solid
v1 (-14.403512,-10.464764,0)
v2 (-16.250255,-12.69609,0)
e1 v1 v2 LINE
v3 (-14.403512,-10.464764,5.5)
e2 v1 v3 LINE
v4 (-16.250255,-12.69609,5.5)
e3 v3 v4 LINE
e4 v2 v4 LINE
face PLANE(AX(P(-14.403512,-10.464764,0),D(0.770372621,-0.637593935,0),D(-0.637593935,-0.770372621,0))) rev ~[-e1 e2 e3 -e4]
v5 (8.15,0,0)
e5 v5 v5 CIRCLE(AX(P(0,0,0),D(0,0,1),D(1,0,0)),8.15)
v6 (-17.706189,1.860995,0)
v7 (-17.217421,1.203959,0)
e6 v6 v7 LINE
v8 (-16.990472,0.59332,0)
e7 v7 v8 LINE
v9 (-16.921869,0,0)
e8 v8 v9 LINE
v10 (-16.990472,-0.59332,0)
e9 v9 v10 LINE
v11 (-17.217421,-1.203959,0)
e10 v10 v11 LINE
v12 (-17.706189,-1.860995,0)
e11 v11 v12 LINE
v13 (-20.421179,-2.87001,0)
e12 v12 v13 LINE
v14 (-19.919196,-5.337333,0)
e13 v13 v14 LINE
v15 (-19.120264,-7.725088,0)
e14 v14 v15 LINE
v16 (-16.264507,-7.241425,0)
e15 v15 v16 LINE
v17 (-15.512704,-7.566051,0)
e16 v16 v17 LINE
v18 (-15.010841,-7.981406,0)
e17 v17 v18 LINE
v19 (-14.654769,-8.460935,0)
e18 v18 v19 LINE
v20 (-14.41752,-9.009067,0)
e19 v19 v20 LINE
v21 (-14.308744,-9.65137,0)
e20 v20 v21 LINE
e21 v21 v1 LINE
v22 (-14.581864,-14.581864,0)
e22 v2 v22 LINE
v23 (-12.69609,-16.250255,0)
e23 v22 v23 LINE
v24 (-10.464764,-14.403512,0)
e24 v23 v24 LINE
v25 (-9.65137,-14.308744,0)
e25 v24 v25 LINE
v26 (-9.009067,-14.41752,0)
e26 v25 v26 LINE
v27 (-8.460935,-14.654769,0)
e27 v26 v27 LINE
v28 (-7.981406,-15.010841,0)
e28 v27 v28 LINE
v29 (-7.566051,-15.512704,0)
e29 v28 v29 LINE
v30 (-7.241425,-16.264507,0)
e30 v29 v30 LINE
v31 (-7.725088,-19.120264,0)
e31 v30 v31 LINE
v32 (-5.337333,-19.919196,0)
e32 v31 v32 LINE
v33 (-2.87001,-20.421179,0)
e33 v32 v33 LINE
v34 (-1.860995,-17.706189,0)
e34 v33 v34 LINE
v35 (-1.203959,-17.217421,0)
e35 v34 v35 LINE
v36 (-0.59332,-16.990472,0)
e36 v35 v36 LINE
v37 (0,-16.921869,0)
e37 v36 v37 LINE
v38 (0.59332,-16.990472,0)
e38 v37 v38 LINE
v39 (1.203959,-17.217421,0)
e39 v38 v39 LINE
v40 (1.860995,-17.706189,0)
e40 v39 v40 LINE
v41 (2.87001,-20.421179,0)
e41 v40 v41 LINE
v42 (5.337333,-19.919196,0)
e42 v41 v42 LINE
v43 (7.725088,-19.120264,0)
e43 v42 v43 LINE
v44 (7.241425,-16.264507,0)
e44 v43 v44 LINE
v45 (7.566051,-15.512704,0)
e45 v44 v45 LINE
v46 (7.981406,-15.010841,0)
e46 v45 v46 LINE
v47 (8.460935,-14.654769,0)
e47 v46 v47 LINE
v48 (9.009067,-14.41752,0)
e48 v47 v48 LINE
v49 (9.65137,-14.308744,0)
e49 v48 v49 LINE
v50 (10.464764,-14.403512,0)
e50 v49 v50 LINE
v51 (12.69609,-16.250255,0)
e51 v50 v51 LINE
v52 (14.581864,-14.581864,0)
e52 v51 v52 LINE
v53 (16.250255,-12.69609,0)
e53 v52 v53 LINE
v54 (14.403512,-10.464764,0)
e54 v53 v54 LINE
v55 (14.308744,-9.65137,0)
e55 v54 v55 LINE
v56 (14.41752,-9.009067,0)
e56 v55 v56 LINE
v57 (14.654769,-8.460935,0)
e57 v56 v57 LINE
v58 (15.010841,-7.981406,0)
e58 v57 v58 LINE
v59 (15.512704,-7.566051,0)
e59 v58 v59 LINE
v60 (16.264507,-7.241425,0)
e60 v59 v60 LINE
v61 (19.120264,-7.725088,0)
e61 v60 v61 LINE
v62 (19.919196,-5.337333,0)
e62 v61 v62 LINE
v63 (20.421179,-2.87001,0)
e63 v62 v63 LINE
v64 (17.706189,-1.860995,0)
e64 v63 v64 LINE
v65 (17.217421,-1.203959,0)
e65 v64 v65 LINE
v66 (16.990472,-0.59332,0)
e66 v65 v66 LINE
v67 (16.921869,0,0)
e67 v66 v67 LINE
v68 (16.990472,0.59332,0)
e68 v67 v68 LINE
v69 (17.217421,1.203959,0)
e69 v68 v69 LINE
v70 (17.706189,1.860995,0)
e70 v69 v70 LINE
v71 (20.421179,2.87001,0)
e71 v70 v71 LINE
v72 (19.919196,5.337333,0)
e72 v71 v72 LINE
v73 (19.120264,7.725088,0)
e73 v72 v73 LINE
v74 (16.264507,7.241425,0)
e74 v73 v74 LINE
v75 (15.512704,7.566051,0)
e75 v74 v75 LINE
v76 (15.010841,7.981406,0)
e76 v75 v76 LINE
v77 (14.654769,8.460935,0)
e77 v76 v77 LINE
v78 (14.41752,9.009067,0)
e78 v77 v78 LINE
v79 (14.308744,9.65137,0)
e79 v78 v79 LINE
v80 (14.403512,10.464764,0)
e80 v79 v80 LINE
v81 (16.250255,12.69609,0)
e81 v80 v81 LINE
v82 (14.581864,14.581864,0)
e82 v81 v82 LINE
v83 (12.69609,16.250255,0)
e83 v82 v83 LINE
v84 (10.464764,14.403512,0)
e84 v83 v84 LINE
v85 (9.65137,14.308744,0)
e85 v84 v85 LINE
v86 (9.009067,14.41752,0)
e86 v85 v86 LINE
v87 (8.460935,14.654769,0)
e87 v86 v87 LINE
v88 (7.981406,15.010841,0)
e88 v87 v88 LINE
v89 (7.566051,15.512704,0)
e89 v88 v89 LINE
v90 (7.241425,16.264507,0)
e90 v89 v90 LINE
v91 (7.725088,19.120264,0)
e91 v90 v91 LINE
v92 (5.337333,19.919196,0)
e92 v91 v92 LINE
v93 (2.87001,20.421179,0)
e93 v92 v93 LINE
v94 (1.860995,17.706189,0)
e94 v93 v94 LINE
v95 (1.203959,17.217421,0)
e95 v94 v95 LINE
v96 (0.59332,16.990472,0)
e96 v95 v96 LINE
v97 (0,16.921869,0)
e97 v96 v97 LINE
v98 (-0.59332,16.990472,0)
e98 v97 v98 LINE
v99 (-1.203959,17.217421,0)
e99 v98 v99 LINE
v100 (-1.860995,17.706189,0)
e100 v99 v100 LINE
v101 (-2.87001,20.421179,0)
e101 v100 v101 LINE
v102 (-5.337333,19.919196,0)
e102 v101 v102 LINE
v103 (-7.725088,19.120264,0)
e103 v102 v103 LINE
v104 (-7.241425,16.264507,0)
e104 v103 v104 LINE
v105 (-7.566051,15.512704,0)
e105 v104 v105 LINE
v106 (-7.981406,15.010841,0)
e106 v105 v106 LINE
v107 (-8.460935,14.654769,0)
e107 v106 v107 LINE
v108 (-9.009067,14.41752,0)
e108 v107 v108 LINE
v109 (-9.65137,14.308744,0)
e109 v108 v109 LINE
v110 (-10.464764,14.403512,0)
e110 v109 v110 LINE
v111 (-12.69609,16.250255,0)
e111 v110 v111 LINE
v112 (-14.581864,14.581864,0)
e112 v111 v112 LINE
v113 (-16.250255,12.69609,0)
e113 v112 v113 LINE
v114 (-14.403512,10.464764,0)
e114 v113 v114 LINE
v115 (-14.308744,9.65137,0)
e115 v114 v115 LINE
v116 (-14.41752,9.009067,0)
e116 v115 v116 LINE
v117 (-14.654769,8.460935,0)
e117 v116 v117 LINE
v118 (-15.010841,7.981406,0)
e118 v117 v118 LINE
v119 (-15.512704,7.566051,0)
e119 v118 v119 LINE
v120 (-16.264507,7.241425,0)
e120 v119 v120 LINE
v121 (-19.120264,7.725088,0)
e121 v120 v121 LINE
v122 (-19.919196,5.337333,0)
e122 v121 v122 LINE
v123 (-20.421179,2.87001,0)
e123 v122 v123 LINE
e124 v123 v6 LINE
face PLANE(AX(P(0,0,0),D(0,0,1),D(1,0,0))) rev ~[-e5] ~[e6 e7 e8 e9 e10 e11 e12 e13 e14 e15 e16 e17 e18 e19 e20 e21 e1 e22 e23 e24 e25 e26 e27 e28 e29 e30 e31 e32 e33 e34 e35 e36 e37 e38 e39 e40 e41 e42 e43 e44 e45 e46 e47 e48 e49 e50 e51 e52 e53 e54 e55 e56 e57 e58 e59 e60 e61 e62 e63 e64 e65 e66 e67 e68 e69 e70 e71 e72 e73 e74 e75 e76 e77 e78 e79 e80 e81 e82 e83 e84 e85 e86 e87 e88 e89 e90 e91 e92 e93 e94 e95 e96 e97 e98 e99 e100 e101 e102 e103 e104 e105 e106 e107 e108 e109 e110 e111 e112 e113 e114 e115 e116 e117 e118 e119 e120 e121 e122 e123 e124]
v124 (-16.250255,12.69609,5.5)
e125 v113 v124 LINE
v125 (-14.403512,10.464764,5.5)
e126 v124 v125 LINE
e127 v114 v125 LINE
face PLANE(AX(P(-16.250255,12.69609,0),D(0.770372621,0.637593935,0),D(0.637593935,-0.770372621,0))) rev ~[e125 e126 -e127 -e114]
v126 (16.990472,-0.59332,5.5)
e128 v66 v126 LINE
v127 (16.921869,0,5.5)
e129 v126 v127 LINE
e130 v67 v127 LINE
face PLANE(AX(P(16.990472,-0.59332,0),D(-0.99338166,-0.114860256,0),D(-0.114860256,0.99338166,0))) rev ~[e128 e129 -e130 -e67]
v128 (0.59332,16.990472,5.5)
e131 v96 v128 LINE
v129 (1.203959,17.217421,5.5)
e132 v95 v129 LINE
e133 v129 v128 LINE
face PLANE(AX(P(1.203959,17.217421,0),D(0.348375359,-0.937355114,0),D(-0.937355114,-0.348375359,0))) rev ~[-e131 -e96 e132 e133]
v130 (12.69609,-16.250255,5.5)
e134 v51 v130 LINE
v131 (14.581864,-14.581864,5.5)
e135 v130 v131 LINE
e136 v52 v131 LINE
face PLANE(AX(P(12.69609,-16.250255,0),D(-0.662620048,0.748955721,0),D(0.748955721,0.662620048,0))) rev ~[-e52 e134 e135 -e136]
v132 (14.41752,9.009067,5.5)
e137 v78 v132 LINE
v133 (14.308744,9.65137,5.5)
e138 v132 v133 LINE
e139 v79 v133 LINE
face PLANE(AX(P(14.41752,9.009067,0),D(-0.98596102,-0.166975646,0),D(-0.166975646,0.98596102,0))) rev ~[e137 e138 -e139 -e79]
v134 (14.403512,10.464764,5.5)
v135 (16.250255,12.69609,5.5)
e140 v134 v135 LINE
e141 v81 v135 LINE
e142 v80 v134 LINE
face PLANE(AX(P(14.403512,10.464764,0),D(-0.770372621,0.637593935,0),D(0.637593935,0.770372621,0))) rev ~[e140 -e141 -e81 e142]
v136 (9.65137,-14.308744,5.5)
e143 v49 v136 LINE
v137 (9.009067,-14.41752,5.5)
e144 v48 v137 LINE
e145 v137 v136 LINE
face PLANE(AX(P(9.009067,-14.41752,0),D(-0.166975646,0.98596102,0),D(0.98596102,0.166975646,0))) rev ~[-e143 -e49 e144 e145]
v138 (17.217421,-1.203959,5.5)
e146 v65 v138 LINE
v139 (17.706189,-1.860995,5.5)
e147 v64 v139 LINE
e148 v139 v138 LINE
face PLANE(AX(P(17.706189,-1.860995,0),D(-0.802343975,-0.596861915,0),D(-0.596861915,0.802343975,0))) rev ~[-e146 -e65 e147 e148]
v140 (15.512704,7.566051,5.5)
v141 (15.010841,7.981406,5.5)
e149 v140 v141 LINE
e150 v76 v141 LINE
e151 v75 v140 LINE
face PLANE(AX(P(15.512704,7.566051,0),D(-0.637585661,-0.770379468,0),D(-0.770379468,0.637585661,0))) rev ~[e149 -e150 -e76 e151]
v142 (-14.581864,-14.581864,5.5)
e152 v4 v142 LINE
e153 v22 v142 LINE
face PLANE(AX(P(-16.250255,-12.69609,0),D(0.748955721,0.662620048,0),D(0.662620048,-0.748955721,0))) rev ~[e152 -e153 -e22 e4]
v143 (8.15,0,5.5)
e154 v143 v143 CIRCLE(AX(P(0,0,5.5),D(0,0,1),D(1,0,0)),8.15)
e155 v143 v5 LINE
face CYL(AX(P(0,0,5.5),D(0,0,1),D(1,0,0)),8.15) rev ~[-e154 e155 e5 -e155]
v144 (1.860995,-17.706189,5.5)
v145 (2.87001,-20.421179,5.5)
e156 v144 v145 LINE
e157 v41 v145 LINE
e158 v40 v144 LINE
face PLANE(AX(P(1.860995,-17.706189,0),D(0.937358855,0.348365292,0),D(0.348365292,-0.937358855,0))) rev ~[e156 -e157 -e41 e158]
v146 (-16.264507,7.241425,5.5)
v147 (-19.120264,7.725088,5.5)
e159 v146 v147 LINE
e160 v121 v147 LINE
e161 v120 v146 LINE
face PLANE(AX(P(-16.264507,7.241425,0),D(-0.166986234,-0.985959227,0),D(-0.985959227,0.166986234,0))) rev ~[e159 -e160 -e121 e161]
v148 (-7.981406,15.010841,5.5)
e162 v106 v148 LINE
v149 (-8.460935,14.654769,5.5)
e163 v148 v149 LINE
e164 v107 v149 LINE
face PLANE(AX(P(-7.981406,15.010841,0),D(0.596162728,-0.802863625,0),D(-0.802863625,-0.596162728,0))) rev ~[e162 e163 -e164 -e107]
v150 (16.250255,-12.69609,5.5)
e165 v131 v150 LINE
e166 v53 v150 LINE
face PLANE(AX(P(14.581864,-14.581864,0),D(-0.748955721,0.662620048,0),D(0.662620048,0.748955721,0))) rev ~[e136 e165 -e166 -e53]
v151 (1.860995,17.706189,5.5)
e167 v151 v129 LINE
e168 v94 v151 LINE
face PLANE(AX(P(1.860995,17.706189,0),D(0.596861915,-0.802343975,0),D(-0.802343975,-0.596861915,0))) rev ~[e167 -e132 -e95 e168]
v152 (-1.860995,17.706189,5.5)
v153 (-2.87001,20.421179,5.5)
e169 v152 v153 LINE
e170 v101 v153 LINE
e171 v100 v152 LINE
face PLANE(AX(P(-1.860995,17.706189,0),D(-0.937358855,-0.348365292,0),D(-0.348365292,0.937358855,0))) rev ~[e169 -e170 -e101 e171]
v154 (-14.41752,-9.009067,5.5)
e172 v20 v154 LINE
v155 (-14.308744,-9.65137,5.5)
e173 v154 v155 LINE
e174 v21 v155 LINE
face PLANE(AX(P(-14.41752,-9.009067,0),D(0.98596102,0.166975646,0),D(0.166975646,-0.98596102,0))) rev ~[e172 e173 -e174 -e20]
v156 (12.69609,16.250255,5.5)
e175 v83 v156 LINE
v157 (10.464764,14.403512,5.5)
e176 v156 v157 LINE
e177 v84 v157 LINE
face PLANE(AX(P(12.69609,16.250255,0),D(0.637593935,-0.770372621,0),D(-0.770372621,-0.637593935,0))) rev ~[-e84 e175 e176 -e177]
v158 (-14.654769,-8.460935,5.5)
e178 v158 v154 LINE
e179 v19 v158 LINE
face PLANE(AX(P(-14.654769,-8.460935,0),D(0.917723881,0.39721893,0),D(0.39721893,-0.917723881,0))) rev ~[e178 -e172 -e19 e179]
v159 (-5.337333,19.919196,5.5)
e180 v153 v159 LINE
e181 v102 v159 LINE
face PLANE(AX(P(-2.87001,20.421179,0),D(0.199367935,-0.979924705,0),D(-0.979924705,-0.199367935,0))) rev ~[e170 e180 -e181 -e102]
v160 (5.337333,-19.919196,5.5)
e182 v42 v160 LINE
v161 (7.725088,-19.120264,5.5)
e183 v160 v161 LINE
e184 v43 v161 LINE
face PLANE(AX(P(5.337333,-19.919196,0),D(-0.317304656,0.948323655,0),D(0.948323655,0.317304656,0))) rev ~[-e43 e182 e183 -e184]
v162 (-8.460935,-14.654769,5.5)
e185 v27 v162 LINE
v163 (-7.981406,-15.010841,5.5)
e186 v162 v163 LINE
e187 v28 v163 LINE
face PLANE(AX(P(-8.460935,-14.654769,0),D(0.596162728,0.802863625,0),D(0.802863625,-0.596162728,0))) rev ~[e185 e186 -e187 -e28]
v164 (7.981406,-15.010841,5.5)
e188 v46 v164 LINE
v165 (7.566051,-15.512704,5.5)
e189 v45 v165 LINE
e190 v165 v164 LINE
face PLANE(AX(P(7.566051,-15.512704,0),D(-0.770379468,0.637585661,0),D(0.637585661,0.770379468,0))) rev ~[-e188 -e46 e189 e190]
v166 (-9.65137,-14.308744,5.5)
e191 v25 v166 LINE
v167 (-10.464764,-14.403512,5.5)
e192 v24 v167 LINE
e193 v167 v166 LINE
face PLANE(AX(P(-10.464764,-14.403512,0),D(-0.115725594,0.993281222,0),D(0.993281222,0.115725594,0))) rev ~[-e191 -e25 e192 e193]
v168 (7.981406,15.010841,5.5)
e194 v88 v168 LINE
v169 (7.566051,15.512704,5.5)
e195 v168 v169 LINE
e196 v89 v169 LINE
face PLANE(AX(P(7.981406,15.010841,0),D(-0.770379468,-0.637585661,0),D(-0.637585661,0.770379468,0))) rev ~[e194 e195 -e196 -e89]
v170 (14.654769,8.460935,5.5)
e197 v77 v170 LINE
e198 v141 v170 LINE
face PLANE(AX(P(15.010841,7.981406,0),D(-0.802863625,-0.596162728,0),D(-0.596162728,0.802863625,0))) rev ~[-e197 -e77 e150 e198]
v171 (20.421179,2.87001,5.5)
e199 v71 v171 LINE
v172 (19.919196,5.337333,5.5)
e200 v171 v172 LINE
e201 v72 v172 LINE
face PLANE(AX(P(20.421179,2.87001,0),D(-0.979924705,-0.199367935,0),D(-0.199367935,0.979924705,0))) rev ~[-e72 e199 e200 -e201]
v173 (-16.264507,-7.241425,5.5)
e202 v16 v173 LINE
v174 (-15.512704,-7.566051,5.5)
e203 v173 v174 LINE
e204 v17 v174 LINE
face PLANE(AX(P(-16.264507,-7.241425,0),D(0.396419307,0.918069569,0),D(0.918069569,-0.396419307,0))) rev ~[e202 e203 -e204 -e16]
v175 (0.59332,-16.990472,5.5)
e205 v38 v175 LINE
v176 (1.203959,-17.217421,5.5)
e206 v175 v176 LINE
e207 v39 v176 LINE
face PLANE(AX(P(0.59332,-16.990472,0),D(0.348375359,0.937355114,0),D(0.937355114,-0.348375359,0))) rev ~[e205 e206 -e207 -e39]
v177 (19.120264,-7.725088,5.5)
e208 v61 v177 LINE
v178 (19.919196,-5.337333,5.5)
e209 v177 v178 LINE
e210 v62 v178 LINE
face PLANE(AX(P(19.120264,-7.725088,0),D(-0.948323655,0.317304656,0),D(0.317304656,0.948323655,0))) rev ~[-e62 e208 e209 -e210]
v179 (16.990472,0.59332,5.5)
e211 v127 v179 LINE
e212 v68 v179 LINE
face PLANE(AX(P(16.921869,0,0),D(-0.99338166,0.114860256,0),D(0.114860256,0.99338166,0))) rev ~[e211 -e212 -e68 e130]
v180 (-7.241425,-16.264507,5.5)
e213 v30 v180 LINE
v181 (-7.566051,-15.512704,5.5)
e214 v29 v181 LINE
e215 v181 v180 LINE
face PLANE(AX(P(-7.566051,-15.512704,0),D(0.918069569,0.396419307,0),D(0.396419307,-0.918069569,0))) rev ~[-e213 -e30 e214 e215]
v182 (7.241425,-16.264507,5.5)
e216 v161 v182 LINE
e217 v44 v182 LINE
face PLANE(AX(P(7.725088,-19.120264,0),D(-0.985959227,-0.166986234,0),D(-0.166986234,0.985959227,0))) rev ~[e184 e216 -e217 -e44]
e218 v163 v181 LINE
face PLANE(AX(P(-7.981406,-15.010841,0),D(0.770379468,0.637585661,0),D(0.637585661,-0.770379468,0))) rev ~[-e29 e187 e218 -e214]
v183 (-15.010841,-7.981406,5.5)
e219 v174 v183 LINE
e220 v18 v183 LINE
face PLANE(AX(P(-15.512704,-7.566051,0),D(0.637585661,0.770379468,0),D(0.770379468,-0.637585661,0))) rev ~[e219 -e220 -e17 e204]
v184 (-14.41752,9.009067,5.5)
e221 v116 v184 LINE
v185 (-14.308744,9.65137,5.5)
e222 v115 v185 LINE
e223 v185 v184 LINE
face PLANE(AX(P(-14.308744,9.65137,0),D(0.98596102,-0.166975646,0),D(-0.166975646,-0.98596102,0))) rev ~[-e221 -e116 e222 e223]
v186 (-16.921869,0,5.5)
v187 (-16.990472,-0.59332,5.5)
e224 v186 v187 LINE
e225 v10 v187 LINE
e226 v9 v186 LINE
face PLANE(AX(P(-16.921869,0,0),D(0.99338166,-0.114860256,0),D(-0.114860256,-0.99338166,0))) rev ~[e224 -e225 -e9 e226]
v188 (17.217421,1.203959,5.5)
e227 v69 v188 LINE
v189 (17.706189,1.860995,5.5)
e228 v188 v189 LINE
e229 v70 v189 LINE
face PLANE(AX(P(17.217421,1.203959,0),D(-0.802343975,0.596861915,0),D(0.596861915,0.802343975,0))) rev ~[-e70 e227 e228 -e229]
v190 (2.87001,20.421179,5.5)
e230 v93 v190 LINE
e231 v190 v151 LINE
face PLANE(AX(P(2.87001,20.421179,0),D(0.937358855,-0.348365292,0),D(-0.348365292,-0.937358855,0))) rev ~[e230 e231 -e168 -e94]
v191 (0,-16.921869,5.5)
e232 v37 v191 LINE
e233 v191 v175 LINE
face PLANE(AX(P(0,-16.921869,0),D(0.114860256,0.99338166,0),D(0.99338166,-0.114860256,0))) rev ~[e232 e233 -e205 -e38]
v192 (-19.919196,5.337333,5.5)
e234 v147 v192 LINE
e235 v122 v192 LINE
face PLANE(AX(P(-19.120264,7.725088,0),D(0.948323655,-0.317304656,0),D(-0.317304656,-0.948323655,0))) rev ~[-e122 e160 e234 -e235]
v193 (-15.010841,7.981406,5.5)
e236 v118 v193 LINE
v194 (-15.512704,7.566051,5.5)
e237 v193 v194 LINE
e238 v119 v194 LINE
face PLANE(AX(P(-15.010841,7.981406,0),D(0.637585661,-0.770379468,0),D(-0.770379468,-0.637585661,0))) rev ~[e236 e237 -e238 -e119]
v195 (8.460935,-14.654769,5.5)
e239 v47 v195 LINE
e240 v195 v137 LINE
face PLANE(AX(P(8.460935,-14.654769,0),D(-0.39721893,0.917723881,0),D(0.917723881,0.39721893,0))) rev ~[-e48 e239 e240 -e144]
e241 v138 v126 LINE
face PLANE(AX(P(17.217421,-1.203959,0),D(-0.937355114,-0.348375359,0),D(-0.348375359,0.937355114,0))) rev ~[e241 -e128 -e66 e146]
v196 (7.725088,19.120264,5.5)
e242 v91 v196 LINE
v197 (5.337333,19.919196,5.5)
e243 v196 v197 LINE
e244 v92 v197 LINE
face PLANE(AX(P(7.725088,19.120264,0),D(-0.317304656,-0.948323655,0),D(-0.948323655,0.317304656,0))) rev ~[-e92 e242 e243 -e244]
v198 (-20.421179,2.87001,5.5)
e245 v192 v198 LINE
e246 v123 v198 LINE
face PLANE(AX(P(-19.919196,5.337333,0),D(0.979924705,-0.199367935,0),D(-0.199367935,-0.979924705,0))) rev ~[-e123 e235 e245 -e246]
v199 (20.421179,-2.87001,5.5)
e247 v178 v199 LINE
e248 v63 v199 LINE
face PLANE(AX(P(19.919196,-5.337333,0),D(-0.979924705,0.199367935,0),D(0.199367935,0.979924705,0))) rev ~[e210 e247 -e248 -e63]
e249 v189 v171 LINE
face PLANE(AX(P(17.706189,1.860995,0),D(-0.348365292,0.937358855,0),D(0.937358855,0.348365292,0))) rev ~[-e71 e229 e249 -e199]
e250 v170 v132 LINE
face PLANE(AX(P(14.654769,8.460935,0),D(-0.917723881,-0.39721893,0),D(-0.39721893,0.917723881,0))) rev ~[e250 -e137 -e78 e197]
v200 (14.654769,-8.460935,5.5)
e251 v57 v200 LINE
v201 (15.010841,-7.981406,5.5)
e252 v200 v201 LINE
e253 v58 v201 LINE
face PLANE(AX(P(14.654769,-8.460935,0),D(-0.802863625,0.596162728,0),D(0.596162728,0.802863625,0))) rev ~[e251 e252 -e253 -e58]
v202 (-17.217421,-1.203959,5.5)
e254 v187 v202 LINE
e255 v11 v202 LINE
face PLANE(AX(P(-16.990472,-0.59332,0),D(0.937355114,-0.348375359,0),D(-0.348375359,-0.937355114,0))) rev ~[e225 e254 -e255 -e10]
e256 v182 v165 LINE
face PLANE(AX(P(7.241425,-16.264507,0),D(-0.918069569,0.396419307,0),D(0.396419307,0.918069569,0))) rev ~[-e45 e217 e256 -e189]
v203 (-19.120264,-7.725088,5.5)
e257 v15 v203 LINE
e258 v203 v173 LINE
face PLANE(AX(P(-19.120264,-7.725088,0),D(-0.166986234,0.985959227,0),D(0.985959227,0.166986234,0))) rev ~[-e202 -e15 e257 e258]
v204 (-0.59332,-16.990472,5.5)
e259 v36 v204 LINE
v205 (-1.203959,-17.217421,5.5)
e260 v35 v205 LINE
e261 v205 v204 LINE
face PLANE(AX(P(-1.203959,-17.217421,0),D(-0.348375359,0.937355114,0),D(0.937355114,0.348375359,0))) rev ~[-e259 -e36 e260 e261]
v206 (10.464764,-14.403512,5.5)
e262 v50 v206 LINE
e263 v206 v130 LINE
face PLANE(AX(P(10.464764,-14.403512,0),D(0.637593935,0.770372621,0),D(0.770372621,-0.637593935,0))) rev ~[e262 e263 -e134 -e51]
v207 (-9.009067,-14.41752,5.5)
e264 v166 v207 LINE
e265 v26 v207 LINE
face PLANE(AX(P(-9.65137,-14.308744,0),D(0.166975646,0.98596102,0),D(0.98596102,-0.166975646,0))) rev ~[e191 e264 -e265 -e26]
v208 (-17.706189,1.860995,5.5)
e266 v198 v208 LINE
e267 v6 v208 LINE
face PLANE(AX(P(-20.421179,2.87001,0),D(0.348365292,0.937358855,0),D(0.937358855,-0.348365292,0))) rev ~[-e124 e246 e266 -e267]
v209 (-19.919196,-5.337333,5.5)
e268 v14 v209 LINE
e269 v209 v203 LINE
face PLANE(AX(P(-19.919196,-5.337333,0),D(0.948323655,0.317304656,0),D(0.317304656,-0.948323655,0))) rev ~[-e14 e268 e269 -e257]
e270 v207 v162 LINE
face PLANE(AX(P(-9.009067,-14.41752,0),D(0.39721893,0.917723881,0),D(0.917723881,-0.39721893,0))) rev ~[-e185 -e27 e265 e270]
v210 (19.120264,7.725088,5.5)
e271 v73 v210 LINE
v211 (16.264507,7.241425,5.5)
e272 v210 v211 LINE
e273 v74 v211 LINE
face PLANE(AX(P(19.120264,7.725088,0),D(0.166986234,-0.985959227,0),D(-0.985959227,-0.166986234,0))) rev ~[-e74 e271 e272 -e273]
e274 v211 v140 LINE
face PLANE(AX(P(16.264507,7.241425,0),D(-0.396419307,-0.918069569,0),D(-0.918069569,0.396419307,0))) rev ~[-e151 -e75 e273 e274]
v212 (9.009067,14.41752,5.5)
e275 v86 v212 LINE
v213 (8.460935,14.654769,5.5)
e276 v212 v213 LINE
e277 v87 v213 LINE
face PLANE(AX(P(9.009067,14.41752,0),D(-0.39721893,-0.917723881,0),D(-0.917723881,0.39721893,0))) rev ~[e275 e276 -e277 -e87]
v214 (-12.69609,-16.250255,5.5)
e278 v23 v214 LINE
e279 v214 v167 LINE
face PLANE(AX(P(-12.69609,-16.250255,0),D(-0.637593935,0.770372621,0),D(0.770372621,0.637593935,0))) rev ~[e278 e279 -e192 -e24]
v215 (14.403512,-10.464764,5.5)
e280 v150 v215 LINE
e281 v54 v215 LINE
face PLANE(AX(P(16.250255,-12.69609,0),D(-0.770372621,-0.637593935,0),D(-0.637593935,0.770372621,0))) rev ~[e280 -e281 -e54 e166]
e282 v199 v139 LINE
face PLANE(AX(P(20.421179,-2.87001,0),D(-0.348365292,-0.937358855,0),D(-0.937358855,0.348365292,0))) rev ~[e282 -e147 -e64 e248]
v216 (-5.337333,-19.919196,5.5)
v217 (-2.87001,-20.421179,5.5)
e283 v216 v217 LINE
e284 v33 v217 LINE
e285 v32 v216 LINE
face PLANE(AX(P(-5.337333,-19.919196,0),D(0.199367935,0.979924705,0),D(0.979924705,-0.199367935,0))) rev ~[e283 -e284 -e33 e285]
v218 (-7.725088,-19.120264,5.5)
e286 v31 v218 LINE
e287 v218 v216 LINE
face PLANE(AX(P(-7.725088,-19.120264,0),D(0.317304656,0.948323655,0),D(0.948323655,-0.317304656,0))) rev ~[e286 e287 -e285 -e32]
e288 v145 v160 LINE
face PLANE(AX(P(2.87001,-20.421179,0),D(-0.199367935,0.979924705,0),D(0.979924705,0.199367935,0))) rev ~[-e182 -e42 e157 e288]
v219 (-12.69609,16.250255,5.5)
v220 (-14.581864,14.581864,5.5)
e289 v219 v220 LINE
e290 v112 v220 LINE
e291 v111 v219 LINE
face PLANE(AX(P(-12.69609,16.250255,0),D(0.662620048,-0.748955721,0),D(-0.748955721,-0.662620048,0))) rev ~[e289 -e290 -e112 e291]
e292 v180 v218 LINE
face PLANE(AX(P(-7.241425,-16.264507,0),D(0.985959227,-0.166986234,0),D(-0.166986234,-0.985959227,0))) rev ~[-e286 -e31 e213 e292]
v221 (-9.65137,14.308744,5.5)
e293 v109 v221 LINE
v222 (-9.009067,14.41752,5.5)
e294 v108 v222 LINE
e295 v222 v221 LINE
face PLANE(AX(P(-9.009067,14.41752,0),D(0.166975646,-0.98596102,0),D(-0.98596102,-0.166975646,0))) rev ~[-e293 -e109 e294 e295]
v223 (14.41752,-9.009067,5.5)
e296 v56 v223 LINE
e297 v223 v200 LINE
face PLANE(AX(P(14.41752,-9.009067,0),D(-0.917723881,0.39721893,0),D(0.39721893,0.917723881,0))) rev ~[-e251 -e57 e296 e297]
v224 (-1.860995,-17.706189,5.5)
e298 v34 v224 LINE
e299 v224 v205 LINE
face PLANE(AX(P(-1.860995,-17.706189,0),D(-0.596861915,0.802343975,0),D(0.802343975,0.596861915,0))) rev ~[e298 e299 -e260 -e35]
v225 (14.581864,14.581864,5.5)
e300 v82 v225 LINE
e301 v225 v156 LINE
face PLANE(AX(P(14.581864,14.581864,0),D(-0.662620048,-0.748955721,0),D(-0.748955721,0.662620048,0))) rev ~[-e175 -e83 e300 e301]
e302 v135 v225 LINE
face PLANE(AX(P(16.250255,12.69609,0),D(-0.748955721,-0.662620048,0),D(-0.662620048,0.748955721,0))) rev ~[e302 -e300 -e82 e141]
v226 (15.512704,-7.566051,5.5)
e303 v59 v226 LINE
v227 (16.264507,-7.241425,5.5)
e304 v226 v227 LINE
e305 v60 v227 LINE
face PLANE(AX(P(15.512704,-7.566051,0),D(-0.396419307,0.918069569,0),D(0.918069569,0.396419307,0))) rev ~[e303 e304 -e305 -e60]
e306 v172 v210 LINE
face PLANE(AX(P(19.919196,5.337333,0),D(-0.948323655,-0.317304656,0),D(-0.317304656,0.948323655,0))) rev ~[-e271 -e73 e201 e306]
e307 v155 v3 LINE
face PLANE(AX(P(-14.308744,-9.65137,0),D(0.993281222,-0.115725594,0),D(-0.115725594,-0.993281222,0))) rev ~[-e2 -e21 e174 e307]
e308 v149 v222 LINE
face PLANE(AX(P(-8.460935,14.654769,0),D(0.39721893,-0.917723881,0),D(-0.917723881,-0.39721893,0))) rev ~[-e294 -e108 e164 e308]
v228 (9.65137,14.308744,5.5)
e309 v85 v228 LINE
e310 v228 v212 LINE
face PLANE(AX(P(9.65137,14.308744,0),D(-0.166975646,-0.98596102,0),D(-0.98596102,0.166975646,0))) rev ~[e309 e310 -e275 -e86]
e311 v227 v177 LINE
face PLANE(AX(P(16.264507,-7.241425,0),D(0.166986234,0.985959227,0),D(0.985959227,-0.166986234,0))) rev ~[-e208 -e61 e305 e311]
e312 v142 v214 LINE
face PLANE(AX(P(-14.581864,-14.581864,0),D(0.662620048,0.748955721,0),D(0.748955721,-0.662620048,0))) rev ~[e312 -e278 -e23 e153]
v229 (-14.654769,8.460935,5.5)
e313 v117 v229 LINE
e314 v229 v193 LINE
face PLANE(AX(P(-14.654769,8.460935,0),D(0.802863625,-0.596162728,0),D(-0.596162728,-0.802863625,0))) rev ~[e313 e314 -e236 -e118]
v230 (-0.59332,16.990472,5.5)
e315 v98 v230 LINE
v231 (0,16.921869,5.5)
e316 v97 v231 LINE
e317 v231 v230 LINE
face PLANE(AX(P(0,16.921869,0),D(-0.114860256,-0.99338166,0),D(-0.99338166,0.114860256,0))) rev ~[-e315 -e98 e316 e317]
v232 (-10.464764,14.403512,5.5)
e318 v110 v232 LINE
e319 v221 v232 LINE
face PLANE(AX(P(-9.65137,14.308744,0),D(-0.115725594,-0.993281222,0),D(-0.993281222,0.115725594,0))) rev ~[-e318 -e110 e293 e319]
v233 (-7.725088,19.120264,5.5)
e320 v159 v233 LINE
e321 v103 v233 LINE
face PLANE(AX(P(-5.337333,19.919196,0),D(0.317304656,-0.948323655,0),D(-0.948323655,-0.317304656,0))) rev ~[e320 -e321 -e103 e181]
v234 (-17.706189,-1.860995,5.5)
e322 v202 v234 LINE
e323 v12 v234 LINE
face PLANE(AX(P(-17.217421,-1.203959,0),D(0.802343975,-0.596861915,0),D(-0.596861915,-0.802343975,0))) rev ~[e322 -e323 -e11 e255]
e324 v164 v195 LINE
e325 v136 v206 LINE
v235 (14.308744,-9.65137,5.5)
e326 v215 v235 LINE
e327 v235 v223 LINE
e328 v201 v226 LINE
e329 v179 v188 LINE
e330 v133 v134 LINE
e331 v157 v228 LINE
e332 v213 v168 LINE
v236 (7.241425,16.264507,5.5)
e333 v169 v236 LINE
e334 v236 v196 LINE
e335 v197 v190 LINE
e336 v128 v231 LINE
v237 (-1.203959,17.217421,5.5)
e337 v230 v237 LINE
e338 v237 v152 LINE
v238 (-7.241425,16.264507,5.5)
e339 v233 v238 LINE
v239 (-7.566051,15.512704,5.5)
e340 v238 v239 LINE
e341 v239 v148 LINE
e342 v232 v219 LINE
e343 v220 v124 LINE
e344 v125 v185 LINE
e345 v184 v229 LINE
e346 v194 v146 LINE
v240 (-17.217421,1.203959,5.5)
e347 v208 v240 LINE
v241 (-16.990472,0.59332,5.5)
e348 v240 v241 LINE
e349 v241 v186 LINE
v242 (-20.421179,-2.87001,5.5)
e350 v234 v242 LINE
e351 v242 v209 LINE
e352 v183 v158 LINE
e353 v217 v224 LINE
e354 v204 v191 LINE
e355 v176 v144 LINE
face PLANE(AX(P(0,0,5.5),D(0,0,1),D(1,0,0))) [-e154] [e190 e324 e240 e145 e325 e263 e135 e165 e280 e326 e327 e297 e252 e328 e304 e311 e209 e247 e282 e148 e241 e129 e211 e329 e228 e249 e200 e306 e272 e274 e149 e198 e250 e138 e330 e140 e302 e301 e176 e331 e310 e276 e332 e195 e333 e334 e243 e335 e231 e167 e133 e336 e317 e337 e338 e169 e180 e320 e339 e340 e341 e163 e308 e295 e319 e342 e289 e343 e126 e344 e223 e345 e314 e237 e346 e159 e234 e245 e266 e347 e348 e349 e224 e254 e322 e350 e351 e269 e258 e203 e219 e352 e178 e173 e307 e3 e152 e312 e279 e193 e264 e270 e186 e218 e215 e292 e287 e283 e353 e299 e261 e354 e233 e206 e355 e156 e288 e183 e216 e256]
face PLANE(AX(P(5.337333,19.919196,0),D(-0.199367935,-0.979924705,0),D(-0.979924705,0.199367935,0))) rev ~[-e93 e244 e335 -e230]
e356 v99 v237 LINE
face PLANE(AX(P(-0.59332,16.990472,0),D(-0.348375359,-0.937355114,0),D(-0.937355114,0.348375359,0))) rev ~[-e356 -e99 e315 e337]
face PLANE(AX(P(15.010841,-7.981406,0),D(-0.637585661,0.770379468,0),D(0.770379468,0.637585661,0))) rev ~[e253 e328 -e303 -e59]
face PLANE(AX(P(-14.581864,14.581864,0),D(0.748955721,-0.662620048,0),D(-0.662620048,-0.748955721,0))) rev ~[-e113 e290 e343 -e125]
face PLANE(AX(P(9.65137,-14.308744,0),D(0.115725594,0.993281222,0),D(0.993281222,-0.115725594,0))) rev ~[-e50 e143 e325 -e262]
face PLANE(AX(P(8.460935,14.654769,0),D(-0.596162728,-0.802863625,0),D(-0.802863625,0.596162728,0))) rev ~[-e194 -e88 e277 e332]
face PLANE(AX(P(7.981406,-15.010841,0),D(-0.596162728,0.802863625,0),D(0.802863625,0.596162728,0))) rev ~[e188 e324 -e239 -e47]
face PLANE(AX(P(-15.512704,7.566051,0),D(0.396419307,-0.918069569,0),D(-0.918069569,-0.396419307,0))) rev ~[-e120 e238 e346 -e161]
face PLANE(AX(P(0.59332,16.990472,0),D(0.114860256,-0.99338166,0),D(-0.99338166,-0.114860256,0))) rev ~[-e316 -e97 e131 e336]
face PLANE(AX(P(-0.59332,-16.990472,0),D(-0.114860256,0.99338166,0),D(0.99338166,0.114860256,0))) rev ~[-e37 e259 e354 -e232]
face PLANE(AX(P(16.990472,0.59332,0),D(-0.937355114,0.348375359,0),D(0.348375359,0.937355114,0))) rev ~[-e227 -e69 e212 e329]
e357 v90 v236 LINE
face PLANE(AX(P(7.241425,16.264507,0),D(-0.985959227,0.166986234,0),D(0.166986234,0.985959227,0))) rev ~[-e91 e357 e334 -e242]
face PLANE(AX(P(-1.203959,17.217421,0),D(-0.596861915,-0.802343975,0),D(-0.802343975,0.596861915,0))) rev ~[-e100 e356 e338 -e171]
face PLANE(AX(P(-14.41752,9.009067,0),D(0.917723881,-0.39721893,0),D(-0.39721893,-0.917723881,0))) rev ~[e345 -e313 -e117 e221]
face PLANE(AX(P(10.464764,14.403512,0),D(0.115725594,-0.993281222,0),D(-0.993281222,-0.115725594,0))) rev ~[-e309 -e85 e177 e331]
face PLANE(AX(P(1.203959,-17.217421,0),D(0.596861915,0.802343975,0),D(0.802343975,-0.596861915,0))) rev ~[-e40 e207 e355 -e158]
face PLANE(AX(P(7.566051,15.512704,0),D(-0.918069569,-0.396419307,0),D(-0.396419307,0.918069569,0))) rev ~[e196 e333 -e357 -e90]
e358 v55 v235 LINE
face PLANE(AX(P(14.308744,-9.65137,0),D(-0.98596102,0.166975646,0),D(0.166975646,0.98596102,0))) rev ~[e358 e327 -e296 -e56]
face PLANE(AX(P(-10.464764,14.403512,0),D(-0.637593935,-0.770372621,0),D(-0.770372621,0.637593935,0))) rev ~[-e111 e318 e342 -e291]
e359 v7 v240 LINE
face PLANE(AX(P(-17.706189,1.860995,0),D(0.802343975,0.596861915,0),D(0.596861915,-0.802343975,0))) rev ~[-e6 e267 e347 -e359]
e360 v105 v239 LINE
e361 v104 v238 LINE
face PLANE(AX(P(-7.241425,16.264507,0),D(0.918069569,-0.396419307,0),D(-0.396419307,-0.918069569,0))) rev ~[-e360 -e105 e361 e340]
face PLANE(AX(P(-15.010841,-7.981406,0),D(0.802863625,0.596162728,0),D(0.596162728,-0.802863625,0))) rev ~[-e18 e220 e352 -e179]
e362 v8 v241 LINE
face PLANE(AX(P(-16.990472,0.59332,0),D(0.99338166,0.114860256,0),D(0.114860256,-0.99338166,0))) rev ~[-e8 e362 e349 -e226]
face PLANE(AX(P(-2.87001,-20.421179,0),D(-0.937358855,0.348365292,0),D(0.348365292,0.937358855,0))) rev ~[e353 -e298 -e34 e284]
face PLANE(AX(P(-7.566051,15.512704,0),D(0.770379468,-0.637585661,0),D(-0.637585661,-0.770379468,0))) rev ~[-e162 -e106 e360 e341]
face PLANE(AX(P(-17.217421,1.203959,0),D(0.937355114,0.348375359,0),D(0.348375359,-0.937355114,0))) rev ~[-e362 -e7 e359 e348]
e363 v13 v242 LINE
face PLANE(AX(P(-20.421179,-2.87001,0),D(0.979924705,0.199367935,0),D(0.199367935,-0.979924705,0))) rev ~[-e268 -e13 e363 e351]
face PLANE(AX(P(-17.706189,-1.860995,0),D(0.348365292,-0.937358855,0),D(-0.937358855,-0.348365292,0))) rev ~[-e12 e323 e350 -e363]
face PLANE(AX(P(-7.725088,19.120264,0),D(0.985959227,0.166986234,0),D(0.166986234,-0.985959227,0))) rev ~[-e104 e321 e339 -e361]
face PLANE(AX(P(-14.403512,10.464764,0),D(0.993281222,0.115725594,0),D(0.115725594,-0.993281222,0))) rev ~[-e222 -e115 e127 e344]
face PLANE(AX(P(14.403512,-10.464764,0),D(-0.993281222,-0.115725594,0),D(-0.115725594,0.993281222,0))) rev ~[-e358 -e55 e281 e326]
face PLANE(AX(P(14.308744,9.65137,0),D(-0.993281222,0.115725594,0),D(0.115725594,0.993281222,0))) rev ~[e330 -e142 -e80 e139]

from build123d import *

# Parameters (mm, degrees)
ROLLER_SEATING_TOOTH_PROFILE_DEPTH = 5.5
SKETCH_2_R                         = 8.15
THROUGH_SHAFT_BORE_DEPTH           = 30.398963933


with BuildPart() as part:
    # 草图1 → Roller_seating_tooth_profile (new body)
    with BuildSketch(Plane.XY):
        Polygon((19.919196173, -5.337332529), (20.421178717, -2.870009502), (17.706188737, -1.860995427), (17.217421057, -1.203959364), (16.990472298, -0.593320367), (16.921869331, 0), (16.990472298, 0.593320367), (17.217421057, 1.203959364), (17.706188737, 1.860995427), (20.421178717, 2.870009502), (19.919196173, 5.337332529), (19.120264295, 7.72508822), (16.264506963, 7.241425053), (15.512703705, 7.566051134), (15.010840815, 7.981405639), (14.65476872, 8.460934666), (14.417520449, 9.009066659), (14.308744341, 9.651369923), (14.403511537, 10.464763684), (16.250254793, 12.696090496), (14.581863645, 14.581863645), (12.696090496, 16.250254793), (10.464763684, 14.403511537), (9.651369923, 14.308744341), (9.009066659, 14.417520449), (8.460934666, 14.65476872), (7.981405639, 15.010840815), (7.566051134, 15.512703705), (7.241425053, 16.264506963), (7.72508822, 19.120264295), (5.337332529, 19.919196173), (2.870009502, 20.421178717), (1.860995427, 17.706188737), (1.203959364, 17.217421057), (0.593320367, 16.990472298), (0, 16.921869331), (-0.593320367, 16.990472298), (-1.203959364, 17.217421057), (-1.860995427, 17.706188737), (-2.870009502, 20.421178717), (-5.337332529, 19.919196173), (-7.72508822, 19.120264295), (-7.241425053, 16.264506963), (-7.566051134, 15.512703705), (-7.981405639, 15.010840815), (-8.460934666, 14.65476872), (-9.009066659, 14.417520449), (-9.651369923, 14.308744341), (-10.464763684, 14.403511537), (-12.696090496, 16.250254793), (-14.581863645, 14.581863645), (-16.250254793, 12.696090496), (-14.403511537, 10.464763684), (-14.308744341, 9.651369923), (-14.417520449, 9.009066659), (-14.65476872, 8.460934666), (-15.010840815, 7.981405639), (-15.512703705, 7.566051134), (-16.264506963, 7.241425053), (-19.120264295, 7.72508822), (-19.919196173, 5.337332529), (-20.421178717, 2.870009502), (-17.706188737, 1.860995427), (-17.217421057, 1.203959364), (-16.990472298, 0.593320367), (-16.921869331, 0), (-16.990472298, -0.593320367), (-17.217421057, -1.203959364), (-17.706188737, -1.860995427), (-20.421178717, -2.870009502), (-19.919196173, -5.337332529), (-19.120264295, -7.72508822), (-16.264506963, -7.241425053), (-15.512703705, -7.566051134), (-15.010840815, -7.981405639), (-14.65476872, -8.460934666), (-14.417520449, -9.009066659), (-14.308744341, -9.651369923), (-14.403511537, -10.464763684), (-16.250254793, -12.696090496), (-14.581863645, -14.581863645), (-12.696090496, -16.250254793), (-10.464763684, -14.403511537), (-9.651369923, -14.308744341), (-9.009066659, -14.417520449), (-8.460934666, -14.65476872), (-7.981405639, -15.010840815), (-7.566051134, -15.512703705), (-7.241425053, -16.264506963), (-7.72508822, -19.120264295), (-5.337332529, -19.919196173), (-2.870009502, -20.421178717), (-1.860995427, -17.706188737), (-1.203959364, -17.217421057), (-0.593320367, -16.990472298), (0, -16.921869331), (0.593320367, -16.990472298), (1.203959364, -17.217421057), (1.860995427, -17.706188737), (2.870009502, -20.421178717), (5.337332529, -19.919196173), (7.72508822, -19.120264295), (7.241425053, -16.264506963), (7.566051134, -15.512703705), (7.981405639, -15.010840815), (8.460934666, -14.65476872), (9.009066659, -14.417520449), (9.651369923, -14.308744341), (10.464763684, -14.403511537), (12.696090496, -16.250254793), (14.581863645, -14.581863645), (16.250254793, -12.696090496), (14.403511537, -10.464763684), (14.308744341, -9.651369923), (14.417520449, -9.009066659), (14.65476872, -8.460934666), (15.010840815, -7.981405639), (15.512703705, -7.566051134), (16.264506963, -7.241425053), (19.120264295, -7.72508822), align=None)
    extrude(amount=ROLLER_SEATING_TOOTH_PROFILE_DEPTH)

    # 草图2 → Through_shaft_bore (cut, through all)
    with BuildSketch(Plane.XY.offset(5.5)):
        Circle(SKETCH_2_R)
    extrude(amount=-THROUGH_SHAFT_BORE_DEPTH, mode=Mode.SUBTRACT)


solid = part.part
